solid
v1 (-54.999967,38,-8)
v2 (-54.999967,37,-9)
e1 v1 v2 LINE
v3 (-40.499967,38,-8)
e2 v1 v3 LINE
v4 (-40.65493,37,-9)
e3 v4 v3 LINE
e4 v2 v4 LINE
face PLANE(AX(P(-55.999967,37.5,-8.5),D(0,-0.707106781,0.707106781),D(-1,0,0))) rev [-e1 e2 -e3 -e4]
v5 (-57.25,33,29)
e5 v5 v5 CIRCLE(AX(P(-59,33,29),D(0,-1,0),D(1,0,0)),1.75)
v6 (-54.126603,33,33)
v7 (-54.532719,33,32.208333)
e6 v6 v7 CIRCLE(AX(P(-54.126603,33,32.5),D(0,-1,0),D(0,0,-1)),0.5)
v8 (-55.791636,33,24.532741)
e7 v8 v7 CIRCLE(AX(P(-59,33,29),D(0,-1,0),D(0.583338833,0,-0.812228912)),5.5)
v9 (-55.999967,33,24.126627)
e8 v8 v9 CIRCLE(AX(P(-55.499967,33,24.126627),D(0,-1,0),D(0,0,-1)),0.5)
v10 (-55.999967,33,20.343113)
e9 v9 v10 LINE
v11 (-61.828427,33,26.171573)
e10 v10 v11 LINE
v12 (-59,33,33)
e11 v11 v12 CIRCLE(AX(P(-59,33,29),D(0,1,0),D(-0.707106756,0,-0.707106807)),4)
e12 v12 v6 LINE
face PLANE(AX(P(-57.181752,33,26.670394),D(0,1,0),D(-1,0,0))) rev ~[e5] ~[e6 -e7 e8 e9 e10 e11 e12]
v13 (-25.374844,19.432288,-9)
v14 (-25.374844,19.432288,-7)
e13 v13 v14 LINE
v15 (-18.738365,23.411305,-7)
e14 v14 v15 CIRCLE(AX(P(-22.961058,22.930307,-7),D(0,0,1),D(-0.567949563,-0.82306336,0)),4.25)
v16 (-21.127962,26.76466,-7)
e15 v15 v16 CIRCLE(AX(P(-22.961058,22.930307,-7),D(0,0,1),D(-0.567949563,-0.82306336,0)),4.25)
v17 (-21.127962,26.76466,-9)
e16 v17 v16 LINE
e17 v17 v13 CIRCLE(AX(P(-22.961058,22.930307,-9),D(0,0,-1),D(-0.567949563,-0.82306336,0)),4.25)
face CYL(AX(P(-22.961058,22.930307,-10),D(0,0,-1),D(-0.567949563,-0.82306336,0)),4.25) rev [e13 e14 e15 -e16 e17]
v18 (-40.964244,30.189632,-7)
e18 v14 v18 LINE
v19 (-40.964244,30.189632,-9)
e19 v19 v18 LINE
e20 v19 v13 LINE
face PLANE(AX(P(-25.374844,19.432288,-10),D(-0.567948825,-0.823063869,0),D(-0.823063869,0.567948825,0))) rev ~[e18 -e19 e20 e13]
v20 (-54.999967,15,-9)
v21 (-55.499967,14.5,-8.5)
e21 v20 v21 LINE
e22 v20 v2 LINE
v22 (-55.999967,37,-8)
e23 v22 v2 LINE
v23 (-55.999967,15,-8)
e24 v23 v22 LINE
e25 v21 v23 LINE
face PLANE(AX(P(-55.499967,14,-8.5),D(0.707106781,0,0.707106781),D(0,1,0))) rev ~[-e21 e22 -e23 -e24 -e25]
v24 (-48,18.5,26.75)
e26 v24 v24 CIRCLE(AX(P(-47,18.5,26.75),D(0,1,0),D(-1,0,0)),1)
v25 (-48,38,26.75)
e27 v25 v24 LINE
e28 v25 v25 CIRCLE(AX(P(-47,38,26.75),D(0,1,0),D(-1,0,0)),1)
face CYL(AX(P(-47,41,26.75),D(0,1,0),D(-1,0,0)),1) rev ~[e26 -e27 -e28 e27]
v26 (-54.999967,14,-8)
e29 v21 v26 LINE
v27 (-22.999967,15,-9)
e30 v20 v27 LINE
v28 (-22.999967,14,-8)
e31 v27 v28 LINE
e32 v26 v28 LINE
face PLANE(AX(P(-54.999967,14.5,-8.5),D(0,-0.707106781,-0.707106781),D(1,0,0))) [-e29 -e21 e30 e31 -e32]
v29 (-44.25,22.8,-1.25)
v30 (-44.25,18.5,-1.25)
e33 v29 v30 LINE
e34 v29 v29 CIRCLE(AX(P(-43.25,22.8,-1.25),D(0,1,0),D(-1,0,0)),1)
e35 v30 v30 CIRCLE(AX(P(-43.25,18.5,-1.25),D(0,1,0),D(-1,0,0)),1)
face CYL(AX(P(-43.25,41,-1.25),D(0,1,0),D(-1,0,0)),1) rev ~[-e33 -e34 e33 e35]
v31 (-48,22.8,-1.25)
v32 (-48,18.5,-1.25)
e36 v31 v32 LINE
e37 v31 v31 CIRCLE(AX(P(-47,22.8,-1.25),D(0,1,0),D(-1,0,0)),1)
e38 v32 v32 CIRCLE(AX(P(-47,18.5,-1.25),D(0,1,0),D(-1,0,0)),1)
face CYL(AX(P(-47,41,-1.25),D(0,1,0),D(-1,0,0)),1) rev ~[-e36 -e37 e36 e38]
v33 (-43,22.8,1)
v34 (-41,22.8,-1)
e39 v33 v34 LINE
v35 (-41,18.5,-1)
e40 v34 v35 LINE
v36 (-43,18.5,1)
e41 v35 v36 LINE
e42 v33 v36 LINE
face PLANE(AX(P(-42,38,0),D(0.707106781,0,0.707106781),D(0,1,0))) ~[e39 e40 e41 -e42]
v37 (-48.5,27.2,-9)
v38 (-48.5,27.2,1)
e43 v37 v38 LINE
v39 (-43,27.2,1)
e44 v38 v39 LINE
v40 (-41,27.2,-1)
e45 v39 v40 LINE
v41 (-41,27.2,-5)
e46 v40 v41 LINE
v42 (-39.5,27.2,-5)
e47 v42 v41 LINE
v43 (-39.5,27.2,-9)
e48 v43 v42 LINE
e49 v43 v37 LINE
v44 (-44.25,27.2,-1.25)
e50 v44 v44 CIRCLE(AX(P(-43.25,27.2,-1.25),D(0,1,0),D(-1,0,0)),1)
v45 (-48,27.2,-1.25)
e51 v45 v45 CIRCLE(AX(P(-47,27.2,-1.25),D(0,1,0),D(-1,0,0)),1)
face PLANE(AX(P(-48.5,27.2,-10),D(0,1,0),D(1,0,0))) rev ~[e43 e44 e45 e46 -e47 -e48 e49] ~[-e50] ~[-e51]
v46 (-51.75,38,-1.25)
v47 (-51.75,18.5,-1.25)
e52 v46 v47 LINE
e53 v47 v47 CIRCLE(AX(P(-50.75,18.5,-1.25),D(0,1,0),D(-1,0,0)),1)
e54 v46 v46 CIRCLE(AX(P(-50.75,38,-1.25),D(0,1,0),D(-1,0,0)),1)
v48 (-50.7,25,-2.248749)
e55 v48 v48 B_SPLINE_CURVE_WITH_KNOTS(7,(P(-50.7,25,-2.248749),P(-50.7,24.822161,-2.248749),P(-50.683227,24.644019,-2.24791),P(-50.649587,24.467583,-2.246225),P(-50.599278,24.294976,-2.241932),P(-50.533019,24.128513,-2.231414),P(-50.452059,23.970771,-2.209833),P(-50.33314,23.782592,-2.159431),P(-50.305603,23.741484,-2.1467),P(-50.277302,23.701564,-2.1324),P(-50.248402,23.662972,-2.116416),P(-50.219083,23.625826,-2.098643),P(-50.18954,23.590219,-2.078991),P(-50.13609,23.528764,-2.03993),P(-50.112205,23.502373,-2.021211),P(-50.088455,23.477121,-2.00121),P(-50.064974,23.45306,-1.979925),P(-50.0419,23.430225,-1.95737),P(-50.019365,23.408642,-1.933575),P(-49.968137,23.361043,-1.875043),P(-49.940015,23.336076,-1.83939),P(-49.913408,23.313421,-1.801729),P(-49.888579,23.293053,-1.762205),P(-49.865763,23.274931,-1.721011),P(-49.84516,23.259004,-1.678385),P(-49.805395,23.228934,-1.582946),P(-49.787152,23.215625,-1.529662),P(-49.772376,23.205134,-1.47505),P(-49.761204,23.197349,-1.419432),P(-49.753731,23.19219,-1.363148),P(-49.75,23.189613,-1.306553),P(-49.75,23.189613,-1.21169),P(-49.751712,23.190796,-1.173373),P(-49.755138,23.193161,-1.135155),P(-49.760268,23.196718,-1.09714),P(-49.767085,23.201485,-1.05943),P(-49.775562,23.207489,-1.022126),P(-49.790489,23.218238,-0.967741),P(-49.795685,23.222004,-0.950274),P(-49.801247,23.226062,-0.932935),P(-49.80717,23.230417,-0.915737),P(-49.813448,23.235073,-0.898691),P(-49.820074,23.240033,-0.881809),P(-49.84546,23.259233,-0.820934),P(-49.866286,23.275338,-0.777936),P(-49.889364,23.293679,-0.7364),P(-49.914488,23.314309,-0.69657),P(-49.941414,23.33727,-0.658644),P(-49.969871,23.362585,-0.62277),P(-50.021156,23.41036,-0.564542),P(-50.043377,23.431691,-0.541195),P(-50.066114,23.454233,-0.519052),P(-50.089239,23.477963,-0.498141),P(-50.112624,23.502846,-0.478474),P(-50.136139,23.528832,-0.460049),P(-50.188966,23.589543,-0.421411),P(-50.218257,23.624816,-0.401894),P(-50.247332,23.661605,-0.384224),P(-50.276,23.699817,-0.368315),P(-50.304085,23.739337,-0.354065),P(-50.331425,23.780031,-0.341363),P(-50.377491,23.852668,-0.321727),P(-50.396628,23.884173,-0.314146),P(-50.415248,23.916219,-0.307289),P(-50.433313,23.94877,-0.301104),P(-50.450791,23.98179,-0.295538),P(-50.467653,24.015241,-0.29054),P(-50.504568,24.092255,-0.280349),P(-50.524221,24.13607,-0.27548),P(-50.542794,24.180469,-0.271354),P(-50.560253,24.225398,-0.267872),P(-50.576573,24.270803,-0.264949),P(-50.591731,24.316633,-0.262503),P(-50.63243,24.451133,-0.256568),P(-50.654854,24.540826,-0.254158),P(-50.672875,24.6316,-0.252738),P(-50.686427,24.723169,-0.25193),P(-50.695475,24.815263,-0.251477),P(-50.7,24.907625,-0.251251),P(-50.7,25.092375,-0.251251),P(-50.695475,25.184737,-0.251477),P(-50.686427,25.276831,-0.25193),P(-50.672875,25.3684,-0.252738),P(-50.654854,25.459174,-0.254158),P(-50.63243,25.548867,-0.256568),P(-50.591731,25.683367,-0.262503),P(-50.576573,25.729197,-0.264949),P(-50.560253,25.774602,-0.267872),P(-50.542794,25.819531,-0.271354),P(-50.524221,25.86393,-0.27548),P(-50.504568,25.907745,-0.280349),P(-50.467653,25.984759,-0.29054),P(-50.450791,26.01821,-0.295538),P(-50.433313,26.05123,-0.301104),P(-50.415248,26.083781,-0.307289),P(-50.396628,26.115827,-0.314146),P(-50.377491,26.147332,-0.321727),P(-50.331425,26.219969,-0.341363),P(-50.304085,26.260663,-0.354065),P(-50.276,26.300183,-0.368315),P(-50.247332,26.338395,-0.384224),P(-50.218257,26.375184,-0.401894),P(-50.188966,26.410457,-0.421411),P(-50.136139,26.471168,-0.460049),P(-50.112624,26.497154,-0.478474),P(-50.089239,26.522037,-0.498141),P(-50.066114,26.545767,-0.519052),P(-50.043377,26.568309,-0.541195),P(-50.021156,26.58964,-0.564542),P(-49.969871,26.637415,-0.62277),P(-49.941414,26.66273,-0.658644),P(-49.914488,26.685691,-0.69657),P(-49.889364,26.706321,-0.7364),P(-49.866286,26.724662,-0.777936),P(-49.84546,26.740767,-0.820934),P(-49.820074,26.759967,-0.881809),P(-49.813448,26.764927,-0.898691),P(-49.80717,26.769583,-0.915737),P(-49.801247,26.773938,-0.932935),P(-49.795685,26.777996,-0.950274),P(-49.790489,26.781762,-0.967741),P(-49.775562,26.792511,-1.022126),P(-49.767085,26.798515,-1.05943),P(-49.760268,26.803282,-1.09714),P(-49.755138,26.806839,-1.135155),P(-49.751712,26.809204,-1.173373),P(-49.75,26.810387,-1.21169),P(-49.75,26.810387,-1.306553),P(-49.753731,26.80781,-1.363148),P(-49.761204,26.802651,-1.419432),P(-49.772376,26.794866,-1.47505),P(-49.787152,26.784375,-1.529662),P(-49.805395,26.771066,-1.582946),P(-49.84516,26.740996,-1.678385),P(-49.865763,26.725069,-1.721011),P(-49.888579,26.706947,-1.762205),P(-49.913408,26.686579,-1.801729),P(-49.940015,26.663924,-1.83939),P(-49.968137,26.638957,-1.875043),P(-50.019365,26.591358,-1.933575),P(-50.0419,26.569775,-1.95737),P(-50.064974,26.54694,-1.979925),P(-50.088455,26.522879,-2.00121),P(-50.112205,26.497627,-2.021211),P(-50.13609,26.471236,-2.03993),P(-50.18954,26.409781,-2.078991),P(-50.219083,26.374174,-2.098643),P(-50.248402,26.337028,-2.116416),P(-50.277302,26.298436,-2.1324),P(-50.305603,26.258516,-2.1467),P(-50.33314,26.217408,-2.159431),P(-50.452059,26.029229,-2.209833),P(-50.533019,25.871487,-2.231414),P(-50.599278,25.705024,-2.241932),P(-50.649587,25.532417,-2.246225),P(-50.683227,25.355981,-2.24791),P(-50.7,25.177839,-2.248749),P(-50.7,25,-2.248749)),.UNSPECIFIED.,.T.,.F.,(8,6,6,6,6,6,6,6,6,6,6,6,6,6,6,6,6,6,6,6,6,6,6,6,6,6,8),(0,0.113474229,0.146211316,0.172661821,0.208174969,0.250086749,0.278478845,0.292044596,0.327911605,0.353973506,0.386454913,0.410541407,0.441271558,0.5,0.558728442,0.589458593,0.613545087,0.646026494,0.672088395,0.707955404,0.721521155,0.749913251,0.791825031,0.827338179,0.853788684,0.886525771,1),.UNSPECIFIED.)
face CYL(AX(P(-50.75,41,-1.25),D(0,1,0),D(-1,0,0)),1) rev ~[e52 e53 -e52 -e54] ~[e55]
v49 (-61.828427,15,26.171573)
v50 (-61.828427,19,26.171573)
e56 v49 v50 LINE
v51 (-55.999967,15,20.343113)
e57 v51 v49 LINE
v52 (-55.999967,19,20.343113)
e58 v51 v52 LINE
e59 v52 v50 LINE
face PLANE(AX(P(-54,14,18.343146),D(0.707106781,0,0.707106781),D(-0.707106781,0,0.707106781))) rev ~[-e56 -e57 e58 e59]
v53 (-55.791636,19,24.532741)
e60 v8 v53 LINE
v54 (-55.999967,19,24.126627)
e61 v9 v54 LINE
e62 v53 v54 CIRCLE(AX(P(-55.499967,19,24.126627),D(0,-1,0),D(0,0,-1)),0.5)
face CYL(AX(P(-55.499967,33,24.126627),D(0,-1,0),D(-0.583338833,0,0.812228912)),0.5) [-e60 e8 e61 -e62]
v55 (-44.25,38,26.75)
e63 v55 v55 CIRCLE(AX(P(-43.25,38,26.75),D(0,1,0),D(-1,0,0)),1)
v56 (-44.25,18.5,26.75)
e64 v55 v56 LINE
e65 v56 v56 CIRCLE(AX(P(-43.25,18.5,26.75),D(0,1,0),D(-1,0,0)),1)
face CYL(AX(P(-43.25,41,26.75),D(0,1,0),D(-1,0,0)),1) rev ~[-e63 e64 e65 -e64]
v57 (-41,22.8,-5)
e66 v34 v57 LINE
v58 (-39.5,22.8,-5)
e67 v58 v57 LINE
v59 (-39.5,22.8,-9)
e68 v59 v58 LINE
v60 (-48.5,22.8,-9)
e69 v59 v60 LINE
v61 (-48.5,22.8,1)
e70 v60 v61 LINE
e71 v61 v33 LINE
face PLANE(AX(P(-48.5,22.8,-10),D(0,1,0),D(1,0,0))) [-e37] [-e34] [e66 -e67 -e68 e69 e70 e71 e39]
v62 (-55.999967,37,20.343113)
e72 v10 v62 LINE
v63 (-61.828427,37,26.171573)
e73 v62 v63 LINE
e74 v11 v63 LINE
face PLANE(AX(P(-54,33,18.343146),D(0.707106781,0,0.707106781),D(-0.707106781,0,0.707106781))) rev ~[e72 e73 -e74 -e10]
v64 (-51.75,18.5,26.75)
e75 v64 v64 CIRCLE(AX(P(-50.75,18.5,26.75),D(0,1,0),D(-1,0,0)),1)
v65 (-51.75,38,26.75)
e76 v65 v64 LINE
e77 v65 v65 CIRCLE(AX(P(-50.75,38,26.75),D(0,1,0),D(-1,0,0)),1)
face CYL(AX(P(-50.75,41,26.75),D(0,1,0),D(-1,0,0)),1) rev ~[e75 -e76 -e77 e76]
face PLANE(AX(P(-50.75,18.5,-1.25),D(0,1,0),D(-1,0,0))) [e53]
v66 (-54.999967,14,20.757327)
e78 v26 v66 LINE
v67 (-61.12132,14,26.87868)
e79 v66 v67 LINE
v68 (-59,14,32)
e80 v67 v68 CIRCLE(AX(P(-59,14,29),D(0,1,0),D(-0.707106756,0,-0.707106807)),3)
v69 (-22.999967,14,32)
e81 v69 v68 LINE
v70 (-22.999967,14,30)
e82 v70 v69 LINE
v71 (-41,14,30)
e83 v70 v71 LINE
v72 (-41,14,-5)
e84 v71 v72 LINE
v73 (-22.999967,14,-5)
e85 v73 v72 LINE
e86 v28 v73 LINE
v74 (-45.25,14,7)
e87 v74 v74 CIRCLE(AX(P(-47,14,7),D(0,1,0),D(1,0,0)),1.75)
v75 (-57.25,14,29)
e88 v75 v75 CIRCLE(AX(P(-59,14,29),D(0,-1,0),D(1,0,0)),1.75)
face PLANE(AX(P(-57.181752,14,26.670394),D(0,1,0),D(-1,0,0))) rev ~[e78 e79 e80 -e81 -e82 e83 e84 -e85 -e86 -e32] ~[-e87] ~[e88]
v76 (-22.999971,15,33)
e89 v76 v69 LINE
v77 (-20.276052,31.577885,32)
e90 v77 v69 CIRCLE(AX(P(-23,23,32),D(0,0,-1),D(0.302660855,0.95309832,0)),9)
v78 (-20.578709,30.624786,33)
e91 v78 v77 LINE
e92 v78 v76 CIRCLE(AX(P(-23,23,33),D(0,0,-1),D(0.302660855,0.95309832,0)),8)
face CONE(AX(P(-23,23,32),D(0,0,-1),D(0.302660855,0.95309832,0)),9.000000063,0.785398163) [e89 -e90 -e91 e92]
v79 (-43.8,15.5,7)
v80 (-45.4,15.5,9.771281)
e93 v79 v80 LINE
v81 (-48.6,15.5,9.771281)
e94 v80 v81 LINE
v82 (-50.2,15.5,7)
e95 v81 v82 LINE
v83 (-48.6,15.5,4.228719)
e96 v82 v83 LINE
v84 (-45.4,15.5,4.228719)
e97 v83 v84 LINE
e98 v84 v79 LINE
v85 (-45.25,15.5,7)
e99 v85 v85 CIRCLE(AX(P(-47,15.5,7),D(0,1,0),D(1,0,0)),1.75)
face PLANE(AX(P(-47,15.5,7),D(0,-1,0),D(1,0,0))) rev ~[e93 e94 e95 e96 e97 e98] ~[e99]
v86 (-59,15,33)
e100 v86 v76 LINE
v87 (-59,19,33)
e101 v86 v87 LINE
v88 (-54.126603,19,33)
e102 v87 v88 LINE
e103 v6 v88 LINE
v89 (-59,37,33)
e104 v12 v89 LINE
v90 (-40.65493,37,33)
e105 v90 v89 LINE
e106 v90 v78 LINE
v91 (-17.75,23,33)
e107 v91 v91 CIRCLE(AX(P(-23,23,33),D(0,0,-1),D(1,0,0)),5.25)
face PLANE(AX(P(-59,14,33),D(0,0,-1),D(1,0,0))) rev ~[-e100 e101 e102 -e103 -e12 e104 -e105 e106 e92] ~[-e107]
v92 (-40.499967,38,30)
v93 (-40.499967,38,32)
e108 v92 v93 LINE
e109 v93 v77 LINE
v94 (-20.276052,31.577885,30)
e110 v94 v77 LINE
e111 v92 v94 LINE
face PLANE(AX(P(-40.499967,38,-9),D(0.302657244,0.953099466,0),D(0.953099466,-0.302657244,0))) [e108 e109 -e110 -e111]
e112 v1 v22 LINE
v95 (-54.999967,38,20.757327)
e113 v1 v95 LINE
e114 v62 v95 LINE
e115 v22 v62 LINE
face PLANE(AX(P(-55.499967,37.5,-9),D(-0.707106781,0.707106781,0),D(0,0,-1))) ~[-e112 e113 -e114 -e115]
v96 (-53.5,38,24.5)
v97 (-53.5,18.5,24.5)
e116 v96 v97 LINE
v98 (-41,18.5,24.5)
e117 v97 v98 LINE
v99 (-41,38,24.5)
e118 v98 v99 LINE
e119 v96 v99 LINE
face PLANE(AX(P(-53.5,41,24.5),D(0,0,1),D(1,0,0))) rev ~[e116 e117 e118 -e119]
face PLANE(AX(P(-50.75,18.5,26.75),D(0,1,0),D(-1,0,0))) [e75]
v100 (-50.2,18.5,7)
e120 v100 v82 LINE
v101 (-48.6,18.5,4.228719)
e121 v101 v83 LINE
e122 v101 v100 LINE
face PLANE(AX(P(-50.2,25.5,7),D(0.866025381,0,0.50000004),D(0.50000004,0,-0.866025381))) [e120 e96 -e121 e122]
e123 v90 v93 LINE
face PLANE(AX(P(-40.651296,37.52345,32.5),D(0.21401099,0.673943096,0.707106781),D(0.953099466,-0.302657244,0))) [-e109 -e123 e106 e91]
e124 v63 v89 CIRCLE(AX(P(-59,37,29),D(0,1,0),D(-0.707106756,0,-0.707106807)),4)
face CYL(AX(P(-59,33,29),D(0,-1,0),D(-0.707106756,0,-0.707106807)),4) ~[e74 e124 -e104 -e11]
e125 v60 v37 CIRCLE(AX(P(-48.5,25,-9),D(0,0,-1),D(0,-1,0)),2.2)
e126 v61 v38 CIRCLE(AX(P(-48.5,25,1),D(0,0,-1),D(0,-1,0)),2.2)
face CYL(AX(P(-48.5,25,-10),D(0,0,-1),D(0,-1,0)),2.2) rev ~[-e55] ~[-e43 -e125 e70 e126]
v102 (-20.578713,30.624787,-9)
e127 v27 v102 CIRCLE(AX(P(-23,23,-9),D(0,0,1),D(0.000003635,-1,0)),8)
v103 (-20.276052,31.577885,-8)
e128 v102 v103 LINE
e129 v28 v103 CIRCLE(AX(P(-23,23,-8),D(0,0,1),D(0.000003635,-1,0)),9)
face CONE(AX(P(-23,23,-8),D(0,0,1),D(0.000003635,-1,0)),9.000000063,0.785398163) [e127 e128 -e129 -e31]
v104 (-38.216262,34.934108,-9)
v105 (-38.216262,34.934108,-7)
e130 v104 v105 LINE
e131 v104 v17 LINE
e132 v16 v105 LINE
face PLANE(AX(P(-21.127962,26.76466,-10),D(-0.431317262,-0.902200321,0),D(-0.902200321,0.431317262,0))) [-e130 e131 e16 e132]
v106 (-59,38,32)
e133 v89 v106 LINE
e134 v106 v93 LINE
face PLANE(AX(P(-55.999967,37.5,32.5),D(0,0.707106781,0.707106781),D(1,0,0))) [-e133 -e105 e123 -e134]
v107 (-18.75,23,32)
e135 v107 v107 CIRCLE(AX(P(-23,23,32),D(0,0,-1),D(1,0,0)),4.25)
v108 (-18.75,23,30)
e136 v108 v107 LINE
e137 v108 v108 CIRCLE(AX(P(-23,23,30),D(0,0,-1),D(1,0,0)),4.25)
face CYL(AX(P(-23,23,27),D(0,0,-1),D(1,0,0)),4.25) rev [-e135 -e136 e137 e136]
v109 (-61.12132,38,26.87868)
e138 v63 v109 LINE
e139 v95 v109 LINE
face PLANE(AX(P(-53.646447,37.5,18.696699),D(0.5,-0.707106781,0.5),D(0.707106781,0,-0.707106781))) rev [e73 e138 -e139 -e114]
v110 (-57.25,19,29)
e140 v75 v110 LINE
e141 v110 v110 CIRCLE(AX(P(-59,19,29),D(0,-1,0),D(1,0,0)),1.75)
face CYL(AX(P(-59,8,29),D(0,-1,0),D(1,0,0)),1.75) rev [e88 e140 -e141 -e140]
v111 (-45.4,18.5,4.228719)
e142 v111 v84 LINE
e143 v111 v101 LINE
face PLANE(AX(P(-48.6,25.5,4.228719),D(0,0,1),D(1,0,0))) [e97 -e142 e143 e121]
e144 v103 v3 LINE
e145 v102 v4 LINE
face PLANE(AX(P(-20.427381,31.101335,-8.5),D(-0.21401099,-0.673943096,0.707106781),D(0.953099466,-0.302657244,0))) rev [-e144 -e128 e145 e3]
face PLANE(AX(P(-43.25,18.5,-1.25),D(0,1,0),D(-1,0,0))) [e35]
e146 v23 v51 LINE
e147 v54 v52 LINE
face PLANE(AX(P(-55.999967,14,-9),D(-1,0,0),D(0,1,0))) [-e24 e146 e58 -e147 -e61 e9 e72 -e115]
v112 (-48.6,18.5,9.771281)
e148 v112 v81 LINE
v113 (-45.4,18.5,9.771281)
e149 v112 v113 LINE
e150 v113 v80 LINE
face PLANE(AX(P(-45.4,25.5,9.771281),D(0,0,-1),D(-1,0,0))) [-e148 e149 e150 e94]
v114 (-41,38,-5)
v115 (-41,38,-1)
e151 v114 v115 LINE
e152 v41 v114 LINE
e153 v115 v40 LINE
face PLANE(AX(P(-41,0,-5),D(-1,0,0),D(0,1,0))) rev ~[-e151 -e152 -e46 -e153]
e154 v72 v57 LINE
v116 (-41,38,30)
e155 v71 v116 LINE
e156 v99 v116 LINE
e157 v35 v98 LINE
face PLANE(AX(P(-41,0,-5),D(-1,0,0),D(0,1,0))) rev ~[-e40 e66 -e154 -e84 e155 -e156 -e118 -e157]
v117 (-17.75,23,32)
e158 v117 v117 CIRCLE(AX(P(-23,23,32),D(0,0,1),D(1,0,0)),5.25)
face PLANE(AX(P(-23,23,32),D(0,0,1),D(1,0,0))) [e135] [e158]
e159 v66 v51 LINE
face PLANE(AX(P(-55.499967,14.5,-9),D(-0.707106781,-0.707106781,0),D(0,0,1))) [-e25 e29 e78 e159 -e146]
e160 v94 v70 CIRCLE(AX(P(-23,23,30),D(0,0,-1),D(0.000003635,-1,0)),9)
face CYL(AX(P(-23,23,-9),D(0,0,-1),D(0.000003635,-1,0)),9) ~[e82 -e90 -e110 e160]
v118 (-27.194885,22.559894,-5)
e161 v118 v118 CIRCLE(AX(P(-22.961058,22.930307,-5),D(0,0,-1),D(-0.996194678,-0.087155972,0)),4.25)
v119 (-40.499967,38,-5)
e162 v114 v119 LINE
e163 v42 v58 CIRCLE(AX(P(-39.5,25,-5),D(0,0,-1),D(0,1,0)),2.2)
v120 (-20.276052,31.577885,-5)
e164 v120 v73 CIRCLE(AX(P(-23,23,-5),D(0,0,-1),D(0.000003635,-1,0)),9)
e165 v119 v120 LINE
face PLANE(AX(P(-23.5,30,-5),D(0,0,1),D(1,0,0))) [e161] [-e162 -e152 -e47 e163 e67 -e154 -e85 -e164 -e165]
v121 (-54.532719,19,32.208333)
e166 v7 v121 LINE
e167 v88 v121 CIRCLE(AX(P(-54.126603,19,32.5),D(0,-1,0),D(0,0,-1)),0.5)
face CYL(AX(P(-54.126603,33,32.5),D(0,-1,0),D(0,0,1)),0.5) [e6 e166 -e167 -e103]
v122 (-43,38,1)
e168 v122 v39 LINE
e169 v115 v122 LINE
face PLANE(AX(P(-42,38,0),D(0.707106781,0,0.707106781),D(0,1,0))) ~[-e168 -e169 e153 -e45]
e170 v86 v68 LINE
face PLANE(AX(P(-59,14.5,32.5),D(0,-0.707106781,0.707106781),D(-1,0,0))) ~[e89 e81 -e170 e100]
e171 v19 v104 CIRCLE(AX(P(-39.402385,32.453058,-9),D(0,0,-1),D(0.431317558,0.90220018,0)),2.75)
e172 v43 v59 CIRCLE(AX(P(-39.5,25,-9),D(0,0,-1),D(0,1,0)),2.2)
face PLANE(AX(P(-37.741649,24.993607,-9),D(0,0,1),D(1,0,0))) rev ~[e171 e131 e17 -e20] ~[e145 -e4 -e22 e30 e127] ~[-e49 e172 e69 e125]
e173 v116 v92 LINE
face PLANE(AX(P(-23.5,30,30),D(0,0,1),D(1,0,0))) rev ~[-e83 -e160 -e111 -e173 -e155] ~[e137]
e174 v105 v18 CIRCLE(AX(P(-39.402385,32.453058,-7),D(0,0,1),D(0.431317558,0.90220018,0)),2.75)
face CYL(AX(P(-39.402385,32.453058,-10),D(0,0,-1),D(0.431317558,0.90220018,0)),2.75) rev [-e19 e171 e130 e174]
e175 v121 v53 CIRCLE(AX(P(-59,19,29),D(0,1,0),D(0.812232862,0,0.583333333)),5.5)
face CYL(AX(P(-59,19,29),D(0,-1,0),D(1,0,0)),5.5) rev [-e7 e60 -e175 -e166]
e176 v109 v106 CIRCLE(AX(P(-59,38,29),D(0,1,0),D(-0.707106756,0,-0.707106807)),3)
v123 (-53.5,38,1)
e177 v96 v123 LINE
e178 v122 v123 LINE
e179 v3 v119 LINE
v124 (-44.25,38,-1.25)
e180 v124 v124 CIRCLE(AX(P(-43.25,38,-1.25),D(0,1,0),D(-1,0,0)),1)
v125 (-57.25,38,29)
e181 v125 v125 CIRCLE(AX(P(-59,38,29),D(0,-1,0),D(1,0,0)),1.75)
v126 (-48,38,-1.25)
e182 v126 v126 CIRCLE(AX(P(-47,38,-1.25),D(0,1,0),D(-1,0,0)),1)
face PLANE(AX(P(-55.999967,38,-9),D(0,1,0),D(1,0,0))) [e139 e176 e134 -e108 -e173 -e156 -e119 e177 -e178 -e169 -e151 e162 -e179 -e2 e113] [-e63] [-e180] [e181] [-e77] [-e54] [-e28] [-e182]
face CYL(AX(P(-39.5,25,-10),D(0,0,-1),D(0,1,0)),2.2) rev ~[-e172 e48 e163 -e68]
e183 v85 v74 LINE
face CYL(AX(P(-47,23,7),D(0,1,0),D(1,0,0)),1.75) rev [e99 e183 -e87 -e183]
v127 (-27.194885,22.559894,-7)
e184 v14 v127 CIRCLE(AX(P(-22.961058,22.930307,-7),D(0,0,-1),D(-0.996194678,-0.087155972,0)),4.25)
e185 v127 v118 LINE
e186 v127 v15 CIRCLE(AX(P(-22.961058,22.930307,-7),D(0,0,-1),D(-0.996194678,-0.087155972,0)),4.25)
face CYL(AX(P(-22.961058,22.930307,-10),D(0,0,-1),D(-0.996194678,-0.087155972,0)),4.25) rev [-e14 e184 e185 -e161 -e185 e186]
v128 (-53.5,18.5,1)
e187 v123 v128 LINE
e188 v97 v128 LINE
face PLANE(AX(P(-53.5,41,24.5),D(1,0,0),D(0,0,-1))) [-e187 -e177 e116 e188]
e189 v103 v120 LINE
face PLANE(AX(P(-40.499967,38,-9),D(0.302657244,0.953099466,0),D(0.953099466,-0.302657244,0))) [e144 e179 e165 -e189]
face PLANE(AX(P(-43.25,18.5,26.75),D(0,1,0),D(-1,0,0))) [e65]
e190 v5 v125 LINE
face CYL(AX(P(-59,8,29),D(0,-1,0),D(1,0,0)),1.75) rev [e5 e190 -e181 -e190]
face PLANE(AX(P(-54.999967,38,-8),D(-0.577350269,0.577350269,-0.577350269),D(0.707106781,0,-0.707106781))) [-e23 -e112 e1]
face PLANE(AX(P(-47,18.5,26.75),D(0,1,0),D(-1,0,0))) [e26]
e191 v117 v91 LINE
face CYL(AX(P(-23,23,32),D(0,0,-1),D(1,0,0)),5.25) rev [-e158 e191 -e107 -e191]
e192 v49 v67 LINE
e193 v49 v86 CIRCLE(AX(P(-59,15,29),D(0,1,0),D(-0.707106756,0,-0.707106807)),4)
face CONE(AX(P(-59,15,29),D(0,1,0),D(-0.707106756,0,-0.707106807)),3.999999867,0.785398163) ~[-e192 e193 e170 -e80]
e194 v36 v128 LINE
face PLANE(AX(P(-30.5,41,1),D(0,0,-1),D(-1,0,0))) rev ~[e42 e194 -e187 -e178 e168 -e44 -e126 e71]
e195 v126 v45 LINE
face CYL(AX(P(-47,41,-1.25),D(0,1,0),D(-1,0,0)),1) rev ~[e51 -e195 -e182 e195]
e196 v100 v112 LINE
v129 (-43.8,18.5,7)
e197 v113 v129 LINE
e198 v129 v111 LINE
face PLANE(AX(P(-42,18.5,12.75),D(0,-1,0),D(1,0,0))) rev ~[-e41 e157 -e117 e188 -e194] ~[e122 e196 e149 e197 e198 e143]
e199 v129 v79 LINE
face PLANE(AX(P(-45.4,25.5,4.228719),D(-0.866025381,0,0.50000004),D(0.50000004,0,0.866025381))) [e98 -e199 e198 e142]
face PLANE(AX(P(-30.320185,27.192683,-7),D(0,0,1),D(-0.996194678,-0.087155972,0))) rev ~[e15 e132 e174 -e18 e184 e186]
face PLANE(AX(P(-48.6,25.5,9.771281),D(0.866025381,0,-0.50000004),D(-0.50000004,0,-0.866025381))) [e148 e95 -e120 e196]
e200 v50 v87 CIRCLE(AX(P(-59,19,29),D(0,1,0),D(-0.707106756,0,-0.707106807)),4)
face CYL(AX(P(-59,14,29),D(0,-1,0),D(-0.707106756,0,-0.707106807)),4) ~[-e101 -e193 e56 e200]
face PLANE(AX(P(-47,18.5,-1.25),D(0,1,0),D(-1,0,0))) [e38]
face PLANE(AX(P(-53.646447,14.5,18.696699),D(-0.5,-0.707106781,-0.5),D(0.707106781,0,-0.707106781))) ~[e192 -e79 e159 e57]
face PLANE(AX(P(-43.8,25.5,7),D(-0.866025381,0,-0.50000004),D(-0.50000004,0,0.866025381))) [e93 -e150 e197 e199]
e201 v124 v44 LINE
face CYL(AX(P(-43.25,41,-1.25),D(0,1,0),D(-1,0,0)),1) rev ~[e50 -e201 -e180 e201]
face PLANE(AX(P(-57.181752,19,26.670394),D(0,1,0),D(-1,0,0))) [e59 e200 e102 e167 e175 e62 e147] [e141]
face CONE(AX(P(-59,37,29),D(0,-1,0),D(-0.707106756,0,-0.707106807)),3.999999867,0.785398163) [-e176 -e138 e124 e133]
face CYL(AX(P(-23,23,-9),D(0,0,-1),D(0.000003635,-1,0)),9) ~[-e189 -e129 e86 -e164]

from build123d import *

# Parameters (mm, degrees)
SKETCH016_R            = 4.25
PAD015_DEPTH           = 30
PAD014_DEPTH           = 3
PRISM008_DEPTH         = 10
PRISM008_ROLL_ANGLE    = 90
PAD011_DEPTH           = 15
SKETCH010_R            = 1
PAD010_DEPTH           = 22.5
CYLINDER017_R          = 4.25
CYLINDER017_DEPTH      = 10
CYLINDER016_R          = 5.25
CYLINDER016_DEPTH      = 10
CYLINDER014_R          = 1.75
CYLINDER014_DEPTH      = 36
CYLINDER014_ROLL_ANGLE = -90
PAD004_DEPTH           = 5
CHAMFER002_SIZE        = 1
CYLINDER012_R          = 1.75
CYLINDER012_DEPTH      = 11
CYLINDER012_ROLL_ANGLE = 90
CYLINDER013_R          = 5.5
CYLINDER013_DEPTH      = 14
CYLINDER013_ROLL_ANGLE = -90
BOX010_W               = 35
BOX010_H               = 60
BOX010_DEPTH           = 35
PAD003_DEPTH           = 42
FILLET002_R            = 0.5
CHAMFER003_SIZE        = 1
CHAMFER006_SIZE        = 2
CHAMFER007_SIZE        = 1


with BuildPart() as pad015:
    # Sketch016 → Pad015 (new body)
    with BuildSketch(Plane(origin=(23.25, 34, -10), x_dir=(-0.996195, -0.087156, 0), z_dir=(0, 0, 1))):
        with Locations((47, 7)):
            Circle(SKETCH016_R)
    extrude(amount=PAD015_DEPTH)


with BuildPart() as fusion011:
    # Sketch014 → Pad014 (new body)
    with BuildSketch(Plane(origin=(23.25, 34, -10), x_dir=(-0.996195, -0.087156, 0), z_dir=(0, 0, 1))):
        with BuildLine():
            ThreePointArc((49.709474, 10.274332), (43.52198, 9.442514), (44.839693, 3.340003))
            Line((44.839693, 3.340003), (61.15095, -6.287705))
            ThreePointArc((61.15095, -6.287705), (64.799282, -5.499923), (64.301984, -1.800786))
            Line((49.709474, 10.274332), (64.301984, -1.800786))
        make_face()
    extrude(amount=PAD014_DEPTH)

    # Fusion011: union Pad015
    add(pad015.part)


with BuildPart() as fake_axis_nut_room:
    # Prism008 → Prism008 (new body)
    with BuildSketch(Plane.XY):
        Polygon((3.2, 0), (1.6, 2.771281), (-1.6, 2.771281), (-3.2, 0), (-1.6, -2.771281), (1.6, -2.771281), align=None)
    extrude(amount=PRISM008_DEPTH)


with BuildPart() as fake_axis_nut_room_1:
    # Prism008 roll: moved
    add(fake_axis_nut_room.part.rotate(Axis((0, 0, 0), (1, 0, 0)), PRISM008_ROLL_ANGLE))


with BuildPart() as fake_axis_nut_room_2:
    # Prism008 placement: moved
    add(fake_axis_nut_room_1.part.moved(Location((-47, 25.5, 7))))


with BuildPart() as pad011:
    # Sketch011 → Pad011 (new body)
    with BuildSketch(Plane(origin=(0, 0, -10), x_dir=(1, 0, 0), z_dir=(0, 0, -1))):
        with BuildLine():
            ThreePointArc((-48.5, -22.8), (-50.7, -25), (-48.5, -27.2))
            Line((-48.5, -27.2), (-39.5, -27.2))
            ThreePointArc((-39.5, -27.2), (-37.3, -25), (-39.5, -22.8))
            Line((-48.5, -22.8), (-39.5, -22.8))
        make_face()
    extrude(amount=-PAD011_DEPTH)


with BuildPart() as pad010:
    # Sketch010 → Pad010 (new body)
    with BuildSketch(Plane(origin=(0, 41, 0), x_dir=(-1, 0, 0), z_dir=(0, 1, 0))):
        with Locations((43.25, 26.75)):
            Circle(SKETCH010_R)
        with Locations((50.75, 26.75)):
            Circle(SKETCH010_R)
        with Locations((43.25, -1.25)):
            Circle(SKETCH010_R)
        with Locations((50.75, -1.25)):
            Circle(SKETCH010_R)
        with Locations((47, -1.25)):
            Circle(SKETCH010_R)
        with Locations((47, 26.75)):
            Circle(SKETCH010_R)
        Polygon((40.5, 24.5), (53.5, 24.5), (53.5, 1), (40.5, 1), (30.5, 1), (30.5, 24.5), align=None)
    extrude(amount=-PAD010_DEPTH)


with BuildPart() as cylinder017:
    # Cylinder017 → Cylinder017 (new body)
    with BuildSketch(Plane.XY.offset(-5)):
        Circle(CYLINDER017_R)
    extrude(amount=CYLINDER017_DEPTH)


with BuildPart() as fusion008:
    # Cylinder016 → Cylinder016 (new body)
    with BuildSketch(Plane.XY):
        Circle(CYLINDER016_R)
    extrude(amount=CYLINDER016_DEPTH)

    # Fusion008: union Cylinder017
    add(cylinder017.part)


with BuildPart() as fusion008_1:
    # Fusion008 placement: moved
    add(fusion008.part.moved(Location((-23, 23, 32))))


with BuildPart() as cilindro014:
    # Cylinder014 → Cylinder014 (new body)
    with BuildSketch(Plane.XY):
        Circle(CYLINDER014_R)
    extrude(amount=CYLINDER014_DEPTH)


with BuildPart() as cilindro014_1:
    # Cylinder014 roll: moved
    add(cilindro014.part.rotate(Axis((0, 0, 0), (1, 0, 0)), CYLINDER014_ROLL_ANGLE))


with BuildPart() as cilindro014_2:
    # Cylinder014 placement: moved
    add(cilindro014_1.part.moved(Location((-59, 8, 29))))


with BuildPart() as pad004:
    # Sketch004 → Pad004 (new body)
    with BuildSketch(Plane(origin=(0, 14, 0), x_dir=(-1, 0, 0), z_dir=(0, 1, 0))):
        with BuildLine():
            ThreePointArc((61.828427, 26.171573), (62.695518, 30.530734), (59, 33))
            Line((59, 33), (54, 33))
            Line((54, 33), (54, 18.343146))
            Line((54, 18.343146), (61.828427, 26.171573))
        make_face()
    extrude(amount=PAD004_DEPTH)


with BuildPart() as chamfer002:
    # Clone006 base: copy of Pad004
    add(pad004.part)


with BuildPart() as chamfer002_1:
    # Clone006 placement: moved
    add(chamfer002.part.moved(Location((0, 19, 0))))

    # Fusion006: union Pad004
    add(pad004.part)

    # Chamfer002
    chamfer002_edges = [chamfer002_1.edges().sort_by_distance(p)[0] for p in [
        (-62.695518, 14, 30.530734),
        (-62.695518, 38, 30.530734),
    ]]
    chamfer(chamfer002_edges, length=CHAMFER002_SIZE)


with BuildPart() as cilindro012:
    # Cylinder012 → Cylinder012 (new body)
    with BuildSketch(Plane.XY):
        Circle(CYLINDER012_R)
    extrude(amount=CYLINDER012_DEPTH)


with BuildPart() as cilindro012_1:
    # Cylinder012 roll: moved
    add(cilindro012.part.rotate(Axis((0, 0, 0), (1, 0, 0)), CYLINDER012_ROLL_ANGLE))


with BuildPart() as cilindro012_2:
    # Cylinder012 placement: moved
    add(cilindro012_1.part.moved(Location((-47, 23, 7))))


with BuildPart() as cilindro013:
    # Cylinder013 → Cylinder013 (new body)
    with BuildSketch(Plane.XY):
        Circle(CYLINDER013_R)
    extrude(amount=CYLINDER013_DEPTH)


with BuildPart() as cilindro013_1:
    # Cylinder013 roll: moved
    add(cilindro013.part.rotate(Axis((0, 0, 0), (1, 0, 0)), CYLINDER013_ROLL_ANGLE))


with BuildPart() as cilindro013_2:
    # Cylinder013 placement: moved
    add(cilindro013_1.part.moved(Location((-59, 19, 29))))


with BuildPart() as cubo010:
    # Box010 → Box010 (new body)
    with BuildSketch(Plane(origin=(-41, 0, -5), x_dir=(1, 0, 0), z_dir=(0, 0, 1))):
        with Locations((17.5, 30)):
            Rectangle(BOX010_W, BOX010_H)
    extrude(amount=BOX010_DEPTH)


with BuildPart() as bracket:
    # Sketch003 → Pad003 (new body)
    with BuildSketch(Plane.XY.offset(-9)):
        with BuildLine():
            ThreePointArc((-22.999967, 14), (-14.106152, 21.621786), (-20.276052, 31.577885))
            Line((-40.499967, 38), (-20.276052, 31.577885))
            Line((-55.999967, 38), (-40.499967, 38))
            Line((-55.999967, 14), (-55.999967, 38))
            Line((-22.999967, 14), (-55.999967, 14))
        make_face()
    extrude(amount=PAD003_DEPTH)

    # Cut007: cut Cubo010
    add(cubo010.part, mode=Mode.SUBTRACT)

    # Cut008: cut Cilindro013
    add(cilindro013_2.part, mode=Mode.SUBTRACT)

    # Fillet002
    fillet002_edges = [bracket.edges().sort_by_distance(p)[0] for p in [
        (-55.999967, 26, 24.390249),
        (-55.225083, 26, 33),
    ]]
    fillet(fillet002_edges, radius=FILLET002_R)

    # Chamfer003
    chamfer003_edges = [bracket.edges().sort_by_distance(p)[0] for p in [
        (-55.999967, 14, 12),
        (-55.999967, 26, -9),
        (-55.999967, 38, 12),
        (-39.499967, 14, 33),
        (-14.106152, 21.621786, 33),
        (-48.249967, 38, 33),
        (-48.249967, 38, -9),
    ]]
    chamfer(chamfer003_edges, length=CHAMFER003_SIZE)

    # Cut010: cut Cilindro012
    add(cilindro012_2.part, mode=Mode.SUBTRACT)

    # Fusion007: union Chamfer002
    add(chamfer002_1.part)

    # Cut011: cut Cilindro014
    add(cilindro014_2.part, mode=Mode.SUBTRACT)

    # Cut012: cut Fusion008
    add(fusion008_1.part, mode=Mode.SUBTRACT)

    # Cut015: cut Pad010
    add(pad010.part, mode=Mode.SUBTRACT)

    # Chamfer006
    chamfer006_edges = [bracket.edges().sort_by_distance(p)[0] for p in [
        (-41, 28.25, 1),
    ]]
    chamfer(chamfer006_edges, length=CHAMFER006_SIZE)

    # Cut016: cut Pad011
    add(pad011.part, mode=Mode.SUBTRACT)

    # Chamfer007
    chamfer007_edges = [bracket.edges().sort_by_distance(p)[0] for p in [
        (-14.106152, 21.621786, -9),
    ]]
    chamfer(chamfer007_edges, length=CHAMFER007_SIZE)

    # Cut017: cut fake_axis_nut_room
    add(fake_axis_nut_room_2.part, mode=Mode.SUBTRACT)

    # Cut020: cut Fusion011
    add(fusion011.part, mode=Mode.SUBTRACT)


solid = bracket.part
